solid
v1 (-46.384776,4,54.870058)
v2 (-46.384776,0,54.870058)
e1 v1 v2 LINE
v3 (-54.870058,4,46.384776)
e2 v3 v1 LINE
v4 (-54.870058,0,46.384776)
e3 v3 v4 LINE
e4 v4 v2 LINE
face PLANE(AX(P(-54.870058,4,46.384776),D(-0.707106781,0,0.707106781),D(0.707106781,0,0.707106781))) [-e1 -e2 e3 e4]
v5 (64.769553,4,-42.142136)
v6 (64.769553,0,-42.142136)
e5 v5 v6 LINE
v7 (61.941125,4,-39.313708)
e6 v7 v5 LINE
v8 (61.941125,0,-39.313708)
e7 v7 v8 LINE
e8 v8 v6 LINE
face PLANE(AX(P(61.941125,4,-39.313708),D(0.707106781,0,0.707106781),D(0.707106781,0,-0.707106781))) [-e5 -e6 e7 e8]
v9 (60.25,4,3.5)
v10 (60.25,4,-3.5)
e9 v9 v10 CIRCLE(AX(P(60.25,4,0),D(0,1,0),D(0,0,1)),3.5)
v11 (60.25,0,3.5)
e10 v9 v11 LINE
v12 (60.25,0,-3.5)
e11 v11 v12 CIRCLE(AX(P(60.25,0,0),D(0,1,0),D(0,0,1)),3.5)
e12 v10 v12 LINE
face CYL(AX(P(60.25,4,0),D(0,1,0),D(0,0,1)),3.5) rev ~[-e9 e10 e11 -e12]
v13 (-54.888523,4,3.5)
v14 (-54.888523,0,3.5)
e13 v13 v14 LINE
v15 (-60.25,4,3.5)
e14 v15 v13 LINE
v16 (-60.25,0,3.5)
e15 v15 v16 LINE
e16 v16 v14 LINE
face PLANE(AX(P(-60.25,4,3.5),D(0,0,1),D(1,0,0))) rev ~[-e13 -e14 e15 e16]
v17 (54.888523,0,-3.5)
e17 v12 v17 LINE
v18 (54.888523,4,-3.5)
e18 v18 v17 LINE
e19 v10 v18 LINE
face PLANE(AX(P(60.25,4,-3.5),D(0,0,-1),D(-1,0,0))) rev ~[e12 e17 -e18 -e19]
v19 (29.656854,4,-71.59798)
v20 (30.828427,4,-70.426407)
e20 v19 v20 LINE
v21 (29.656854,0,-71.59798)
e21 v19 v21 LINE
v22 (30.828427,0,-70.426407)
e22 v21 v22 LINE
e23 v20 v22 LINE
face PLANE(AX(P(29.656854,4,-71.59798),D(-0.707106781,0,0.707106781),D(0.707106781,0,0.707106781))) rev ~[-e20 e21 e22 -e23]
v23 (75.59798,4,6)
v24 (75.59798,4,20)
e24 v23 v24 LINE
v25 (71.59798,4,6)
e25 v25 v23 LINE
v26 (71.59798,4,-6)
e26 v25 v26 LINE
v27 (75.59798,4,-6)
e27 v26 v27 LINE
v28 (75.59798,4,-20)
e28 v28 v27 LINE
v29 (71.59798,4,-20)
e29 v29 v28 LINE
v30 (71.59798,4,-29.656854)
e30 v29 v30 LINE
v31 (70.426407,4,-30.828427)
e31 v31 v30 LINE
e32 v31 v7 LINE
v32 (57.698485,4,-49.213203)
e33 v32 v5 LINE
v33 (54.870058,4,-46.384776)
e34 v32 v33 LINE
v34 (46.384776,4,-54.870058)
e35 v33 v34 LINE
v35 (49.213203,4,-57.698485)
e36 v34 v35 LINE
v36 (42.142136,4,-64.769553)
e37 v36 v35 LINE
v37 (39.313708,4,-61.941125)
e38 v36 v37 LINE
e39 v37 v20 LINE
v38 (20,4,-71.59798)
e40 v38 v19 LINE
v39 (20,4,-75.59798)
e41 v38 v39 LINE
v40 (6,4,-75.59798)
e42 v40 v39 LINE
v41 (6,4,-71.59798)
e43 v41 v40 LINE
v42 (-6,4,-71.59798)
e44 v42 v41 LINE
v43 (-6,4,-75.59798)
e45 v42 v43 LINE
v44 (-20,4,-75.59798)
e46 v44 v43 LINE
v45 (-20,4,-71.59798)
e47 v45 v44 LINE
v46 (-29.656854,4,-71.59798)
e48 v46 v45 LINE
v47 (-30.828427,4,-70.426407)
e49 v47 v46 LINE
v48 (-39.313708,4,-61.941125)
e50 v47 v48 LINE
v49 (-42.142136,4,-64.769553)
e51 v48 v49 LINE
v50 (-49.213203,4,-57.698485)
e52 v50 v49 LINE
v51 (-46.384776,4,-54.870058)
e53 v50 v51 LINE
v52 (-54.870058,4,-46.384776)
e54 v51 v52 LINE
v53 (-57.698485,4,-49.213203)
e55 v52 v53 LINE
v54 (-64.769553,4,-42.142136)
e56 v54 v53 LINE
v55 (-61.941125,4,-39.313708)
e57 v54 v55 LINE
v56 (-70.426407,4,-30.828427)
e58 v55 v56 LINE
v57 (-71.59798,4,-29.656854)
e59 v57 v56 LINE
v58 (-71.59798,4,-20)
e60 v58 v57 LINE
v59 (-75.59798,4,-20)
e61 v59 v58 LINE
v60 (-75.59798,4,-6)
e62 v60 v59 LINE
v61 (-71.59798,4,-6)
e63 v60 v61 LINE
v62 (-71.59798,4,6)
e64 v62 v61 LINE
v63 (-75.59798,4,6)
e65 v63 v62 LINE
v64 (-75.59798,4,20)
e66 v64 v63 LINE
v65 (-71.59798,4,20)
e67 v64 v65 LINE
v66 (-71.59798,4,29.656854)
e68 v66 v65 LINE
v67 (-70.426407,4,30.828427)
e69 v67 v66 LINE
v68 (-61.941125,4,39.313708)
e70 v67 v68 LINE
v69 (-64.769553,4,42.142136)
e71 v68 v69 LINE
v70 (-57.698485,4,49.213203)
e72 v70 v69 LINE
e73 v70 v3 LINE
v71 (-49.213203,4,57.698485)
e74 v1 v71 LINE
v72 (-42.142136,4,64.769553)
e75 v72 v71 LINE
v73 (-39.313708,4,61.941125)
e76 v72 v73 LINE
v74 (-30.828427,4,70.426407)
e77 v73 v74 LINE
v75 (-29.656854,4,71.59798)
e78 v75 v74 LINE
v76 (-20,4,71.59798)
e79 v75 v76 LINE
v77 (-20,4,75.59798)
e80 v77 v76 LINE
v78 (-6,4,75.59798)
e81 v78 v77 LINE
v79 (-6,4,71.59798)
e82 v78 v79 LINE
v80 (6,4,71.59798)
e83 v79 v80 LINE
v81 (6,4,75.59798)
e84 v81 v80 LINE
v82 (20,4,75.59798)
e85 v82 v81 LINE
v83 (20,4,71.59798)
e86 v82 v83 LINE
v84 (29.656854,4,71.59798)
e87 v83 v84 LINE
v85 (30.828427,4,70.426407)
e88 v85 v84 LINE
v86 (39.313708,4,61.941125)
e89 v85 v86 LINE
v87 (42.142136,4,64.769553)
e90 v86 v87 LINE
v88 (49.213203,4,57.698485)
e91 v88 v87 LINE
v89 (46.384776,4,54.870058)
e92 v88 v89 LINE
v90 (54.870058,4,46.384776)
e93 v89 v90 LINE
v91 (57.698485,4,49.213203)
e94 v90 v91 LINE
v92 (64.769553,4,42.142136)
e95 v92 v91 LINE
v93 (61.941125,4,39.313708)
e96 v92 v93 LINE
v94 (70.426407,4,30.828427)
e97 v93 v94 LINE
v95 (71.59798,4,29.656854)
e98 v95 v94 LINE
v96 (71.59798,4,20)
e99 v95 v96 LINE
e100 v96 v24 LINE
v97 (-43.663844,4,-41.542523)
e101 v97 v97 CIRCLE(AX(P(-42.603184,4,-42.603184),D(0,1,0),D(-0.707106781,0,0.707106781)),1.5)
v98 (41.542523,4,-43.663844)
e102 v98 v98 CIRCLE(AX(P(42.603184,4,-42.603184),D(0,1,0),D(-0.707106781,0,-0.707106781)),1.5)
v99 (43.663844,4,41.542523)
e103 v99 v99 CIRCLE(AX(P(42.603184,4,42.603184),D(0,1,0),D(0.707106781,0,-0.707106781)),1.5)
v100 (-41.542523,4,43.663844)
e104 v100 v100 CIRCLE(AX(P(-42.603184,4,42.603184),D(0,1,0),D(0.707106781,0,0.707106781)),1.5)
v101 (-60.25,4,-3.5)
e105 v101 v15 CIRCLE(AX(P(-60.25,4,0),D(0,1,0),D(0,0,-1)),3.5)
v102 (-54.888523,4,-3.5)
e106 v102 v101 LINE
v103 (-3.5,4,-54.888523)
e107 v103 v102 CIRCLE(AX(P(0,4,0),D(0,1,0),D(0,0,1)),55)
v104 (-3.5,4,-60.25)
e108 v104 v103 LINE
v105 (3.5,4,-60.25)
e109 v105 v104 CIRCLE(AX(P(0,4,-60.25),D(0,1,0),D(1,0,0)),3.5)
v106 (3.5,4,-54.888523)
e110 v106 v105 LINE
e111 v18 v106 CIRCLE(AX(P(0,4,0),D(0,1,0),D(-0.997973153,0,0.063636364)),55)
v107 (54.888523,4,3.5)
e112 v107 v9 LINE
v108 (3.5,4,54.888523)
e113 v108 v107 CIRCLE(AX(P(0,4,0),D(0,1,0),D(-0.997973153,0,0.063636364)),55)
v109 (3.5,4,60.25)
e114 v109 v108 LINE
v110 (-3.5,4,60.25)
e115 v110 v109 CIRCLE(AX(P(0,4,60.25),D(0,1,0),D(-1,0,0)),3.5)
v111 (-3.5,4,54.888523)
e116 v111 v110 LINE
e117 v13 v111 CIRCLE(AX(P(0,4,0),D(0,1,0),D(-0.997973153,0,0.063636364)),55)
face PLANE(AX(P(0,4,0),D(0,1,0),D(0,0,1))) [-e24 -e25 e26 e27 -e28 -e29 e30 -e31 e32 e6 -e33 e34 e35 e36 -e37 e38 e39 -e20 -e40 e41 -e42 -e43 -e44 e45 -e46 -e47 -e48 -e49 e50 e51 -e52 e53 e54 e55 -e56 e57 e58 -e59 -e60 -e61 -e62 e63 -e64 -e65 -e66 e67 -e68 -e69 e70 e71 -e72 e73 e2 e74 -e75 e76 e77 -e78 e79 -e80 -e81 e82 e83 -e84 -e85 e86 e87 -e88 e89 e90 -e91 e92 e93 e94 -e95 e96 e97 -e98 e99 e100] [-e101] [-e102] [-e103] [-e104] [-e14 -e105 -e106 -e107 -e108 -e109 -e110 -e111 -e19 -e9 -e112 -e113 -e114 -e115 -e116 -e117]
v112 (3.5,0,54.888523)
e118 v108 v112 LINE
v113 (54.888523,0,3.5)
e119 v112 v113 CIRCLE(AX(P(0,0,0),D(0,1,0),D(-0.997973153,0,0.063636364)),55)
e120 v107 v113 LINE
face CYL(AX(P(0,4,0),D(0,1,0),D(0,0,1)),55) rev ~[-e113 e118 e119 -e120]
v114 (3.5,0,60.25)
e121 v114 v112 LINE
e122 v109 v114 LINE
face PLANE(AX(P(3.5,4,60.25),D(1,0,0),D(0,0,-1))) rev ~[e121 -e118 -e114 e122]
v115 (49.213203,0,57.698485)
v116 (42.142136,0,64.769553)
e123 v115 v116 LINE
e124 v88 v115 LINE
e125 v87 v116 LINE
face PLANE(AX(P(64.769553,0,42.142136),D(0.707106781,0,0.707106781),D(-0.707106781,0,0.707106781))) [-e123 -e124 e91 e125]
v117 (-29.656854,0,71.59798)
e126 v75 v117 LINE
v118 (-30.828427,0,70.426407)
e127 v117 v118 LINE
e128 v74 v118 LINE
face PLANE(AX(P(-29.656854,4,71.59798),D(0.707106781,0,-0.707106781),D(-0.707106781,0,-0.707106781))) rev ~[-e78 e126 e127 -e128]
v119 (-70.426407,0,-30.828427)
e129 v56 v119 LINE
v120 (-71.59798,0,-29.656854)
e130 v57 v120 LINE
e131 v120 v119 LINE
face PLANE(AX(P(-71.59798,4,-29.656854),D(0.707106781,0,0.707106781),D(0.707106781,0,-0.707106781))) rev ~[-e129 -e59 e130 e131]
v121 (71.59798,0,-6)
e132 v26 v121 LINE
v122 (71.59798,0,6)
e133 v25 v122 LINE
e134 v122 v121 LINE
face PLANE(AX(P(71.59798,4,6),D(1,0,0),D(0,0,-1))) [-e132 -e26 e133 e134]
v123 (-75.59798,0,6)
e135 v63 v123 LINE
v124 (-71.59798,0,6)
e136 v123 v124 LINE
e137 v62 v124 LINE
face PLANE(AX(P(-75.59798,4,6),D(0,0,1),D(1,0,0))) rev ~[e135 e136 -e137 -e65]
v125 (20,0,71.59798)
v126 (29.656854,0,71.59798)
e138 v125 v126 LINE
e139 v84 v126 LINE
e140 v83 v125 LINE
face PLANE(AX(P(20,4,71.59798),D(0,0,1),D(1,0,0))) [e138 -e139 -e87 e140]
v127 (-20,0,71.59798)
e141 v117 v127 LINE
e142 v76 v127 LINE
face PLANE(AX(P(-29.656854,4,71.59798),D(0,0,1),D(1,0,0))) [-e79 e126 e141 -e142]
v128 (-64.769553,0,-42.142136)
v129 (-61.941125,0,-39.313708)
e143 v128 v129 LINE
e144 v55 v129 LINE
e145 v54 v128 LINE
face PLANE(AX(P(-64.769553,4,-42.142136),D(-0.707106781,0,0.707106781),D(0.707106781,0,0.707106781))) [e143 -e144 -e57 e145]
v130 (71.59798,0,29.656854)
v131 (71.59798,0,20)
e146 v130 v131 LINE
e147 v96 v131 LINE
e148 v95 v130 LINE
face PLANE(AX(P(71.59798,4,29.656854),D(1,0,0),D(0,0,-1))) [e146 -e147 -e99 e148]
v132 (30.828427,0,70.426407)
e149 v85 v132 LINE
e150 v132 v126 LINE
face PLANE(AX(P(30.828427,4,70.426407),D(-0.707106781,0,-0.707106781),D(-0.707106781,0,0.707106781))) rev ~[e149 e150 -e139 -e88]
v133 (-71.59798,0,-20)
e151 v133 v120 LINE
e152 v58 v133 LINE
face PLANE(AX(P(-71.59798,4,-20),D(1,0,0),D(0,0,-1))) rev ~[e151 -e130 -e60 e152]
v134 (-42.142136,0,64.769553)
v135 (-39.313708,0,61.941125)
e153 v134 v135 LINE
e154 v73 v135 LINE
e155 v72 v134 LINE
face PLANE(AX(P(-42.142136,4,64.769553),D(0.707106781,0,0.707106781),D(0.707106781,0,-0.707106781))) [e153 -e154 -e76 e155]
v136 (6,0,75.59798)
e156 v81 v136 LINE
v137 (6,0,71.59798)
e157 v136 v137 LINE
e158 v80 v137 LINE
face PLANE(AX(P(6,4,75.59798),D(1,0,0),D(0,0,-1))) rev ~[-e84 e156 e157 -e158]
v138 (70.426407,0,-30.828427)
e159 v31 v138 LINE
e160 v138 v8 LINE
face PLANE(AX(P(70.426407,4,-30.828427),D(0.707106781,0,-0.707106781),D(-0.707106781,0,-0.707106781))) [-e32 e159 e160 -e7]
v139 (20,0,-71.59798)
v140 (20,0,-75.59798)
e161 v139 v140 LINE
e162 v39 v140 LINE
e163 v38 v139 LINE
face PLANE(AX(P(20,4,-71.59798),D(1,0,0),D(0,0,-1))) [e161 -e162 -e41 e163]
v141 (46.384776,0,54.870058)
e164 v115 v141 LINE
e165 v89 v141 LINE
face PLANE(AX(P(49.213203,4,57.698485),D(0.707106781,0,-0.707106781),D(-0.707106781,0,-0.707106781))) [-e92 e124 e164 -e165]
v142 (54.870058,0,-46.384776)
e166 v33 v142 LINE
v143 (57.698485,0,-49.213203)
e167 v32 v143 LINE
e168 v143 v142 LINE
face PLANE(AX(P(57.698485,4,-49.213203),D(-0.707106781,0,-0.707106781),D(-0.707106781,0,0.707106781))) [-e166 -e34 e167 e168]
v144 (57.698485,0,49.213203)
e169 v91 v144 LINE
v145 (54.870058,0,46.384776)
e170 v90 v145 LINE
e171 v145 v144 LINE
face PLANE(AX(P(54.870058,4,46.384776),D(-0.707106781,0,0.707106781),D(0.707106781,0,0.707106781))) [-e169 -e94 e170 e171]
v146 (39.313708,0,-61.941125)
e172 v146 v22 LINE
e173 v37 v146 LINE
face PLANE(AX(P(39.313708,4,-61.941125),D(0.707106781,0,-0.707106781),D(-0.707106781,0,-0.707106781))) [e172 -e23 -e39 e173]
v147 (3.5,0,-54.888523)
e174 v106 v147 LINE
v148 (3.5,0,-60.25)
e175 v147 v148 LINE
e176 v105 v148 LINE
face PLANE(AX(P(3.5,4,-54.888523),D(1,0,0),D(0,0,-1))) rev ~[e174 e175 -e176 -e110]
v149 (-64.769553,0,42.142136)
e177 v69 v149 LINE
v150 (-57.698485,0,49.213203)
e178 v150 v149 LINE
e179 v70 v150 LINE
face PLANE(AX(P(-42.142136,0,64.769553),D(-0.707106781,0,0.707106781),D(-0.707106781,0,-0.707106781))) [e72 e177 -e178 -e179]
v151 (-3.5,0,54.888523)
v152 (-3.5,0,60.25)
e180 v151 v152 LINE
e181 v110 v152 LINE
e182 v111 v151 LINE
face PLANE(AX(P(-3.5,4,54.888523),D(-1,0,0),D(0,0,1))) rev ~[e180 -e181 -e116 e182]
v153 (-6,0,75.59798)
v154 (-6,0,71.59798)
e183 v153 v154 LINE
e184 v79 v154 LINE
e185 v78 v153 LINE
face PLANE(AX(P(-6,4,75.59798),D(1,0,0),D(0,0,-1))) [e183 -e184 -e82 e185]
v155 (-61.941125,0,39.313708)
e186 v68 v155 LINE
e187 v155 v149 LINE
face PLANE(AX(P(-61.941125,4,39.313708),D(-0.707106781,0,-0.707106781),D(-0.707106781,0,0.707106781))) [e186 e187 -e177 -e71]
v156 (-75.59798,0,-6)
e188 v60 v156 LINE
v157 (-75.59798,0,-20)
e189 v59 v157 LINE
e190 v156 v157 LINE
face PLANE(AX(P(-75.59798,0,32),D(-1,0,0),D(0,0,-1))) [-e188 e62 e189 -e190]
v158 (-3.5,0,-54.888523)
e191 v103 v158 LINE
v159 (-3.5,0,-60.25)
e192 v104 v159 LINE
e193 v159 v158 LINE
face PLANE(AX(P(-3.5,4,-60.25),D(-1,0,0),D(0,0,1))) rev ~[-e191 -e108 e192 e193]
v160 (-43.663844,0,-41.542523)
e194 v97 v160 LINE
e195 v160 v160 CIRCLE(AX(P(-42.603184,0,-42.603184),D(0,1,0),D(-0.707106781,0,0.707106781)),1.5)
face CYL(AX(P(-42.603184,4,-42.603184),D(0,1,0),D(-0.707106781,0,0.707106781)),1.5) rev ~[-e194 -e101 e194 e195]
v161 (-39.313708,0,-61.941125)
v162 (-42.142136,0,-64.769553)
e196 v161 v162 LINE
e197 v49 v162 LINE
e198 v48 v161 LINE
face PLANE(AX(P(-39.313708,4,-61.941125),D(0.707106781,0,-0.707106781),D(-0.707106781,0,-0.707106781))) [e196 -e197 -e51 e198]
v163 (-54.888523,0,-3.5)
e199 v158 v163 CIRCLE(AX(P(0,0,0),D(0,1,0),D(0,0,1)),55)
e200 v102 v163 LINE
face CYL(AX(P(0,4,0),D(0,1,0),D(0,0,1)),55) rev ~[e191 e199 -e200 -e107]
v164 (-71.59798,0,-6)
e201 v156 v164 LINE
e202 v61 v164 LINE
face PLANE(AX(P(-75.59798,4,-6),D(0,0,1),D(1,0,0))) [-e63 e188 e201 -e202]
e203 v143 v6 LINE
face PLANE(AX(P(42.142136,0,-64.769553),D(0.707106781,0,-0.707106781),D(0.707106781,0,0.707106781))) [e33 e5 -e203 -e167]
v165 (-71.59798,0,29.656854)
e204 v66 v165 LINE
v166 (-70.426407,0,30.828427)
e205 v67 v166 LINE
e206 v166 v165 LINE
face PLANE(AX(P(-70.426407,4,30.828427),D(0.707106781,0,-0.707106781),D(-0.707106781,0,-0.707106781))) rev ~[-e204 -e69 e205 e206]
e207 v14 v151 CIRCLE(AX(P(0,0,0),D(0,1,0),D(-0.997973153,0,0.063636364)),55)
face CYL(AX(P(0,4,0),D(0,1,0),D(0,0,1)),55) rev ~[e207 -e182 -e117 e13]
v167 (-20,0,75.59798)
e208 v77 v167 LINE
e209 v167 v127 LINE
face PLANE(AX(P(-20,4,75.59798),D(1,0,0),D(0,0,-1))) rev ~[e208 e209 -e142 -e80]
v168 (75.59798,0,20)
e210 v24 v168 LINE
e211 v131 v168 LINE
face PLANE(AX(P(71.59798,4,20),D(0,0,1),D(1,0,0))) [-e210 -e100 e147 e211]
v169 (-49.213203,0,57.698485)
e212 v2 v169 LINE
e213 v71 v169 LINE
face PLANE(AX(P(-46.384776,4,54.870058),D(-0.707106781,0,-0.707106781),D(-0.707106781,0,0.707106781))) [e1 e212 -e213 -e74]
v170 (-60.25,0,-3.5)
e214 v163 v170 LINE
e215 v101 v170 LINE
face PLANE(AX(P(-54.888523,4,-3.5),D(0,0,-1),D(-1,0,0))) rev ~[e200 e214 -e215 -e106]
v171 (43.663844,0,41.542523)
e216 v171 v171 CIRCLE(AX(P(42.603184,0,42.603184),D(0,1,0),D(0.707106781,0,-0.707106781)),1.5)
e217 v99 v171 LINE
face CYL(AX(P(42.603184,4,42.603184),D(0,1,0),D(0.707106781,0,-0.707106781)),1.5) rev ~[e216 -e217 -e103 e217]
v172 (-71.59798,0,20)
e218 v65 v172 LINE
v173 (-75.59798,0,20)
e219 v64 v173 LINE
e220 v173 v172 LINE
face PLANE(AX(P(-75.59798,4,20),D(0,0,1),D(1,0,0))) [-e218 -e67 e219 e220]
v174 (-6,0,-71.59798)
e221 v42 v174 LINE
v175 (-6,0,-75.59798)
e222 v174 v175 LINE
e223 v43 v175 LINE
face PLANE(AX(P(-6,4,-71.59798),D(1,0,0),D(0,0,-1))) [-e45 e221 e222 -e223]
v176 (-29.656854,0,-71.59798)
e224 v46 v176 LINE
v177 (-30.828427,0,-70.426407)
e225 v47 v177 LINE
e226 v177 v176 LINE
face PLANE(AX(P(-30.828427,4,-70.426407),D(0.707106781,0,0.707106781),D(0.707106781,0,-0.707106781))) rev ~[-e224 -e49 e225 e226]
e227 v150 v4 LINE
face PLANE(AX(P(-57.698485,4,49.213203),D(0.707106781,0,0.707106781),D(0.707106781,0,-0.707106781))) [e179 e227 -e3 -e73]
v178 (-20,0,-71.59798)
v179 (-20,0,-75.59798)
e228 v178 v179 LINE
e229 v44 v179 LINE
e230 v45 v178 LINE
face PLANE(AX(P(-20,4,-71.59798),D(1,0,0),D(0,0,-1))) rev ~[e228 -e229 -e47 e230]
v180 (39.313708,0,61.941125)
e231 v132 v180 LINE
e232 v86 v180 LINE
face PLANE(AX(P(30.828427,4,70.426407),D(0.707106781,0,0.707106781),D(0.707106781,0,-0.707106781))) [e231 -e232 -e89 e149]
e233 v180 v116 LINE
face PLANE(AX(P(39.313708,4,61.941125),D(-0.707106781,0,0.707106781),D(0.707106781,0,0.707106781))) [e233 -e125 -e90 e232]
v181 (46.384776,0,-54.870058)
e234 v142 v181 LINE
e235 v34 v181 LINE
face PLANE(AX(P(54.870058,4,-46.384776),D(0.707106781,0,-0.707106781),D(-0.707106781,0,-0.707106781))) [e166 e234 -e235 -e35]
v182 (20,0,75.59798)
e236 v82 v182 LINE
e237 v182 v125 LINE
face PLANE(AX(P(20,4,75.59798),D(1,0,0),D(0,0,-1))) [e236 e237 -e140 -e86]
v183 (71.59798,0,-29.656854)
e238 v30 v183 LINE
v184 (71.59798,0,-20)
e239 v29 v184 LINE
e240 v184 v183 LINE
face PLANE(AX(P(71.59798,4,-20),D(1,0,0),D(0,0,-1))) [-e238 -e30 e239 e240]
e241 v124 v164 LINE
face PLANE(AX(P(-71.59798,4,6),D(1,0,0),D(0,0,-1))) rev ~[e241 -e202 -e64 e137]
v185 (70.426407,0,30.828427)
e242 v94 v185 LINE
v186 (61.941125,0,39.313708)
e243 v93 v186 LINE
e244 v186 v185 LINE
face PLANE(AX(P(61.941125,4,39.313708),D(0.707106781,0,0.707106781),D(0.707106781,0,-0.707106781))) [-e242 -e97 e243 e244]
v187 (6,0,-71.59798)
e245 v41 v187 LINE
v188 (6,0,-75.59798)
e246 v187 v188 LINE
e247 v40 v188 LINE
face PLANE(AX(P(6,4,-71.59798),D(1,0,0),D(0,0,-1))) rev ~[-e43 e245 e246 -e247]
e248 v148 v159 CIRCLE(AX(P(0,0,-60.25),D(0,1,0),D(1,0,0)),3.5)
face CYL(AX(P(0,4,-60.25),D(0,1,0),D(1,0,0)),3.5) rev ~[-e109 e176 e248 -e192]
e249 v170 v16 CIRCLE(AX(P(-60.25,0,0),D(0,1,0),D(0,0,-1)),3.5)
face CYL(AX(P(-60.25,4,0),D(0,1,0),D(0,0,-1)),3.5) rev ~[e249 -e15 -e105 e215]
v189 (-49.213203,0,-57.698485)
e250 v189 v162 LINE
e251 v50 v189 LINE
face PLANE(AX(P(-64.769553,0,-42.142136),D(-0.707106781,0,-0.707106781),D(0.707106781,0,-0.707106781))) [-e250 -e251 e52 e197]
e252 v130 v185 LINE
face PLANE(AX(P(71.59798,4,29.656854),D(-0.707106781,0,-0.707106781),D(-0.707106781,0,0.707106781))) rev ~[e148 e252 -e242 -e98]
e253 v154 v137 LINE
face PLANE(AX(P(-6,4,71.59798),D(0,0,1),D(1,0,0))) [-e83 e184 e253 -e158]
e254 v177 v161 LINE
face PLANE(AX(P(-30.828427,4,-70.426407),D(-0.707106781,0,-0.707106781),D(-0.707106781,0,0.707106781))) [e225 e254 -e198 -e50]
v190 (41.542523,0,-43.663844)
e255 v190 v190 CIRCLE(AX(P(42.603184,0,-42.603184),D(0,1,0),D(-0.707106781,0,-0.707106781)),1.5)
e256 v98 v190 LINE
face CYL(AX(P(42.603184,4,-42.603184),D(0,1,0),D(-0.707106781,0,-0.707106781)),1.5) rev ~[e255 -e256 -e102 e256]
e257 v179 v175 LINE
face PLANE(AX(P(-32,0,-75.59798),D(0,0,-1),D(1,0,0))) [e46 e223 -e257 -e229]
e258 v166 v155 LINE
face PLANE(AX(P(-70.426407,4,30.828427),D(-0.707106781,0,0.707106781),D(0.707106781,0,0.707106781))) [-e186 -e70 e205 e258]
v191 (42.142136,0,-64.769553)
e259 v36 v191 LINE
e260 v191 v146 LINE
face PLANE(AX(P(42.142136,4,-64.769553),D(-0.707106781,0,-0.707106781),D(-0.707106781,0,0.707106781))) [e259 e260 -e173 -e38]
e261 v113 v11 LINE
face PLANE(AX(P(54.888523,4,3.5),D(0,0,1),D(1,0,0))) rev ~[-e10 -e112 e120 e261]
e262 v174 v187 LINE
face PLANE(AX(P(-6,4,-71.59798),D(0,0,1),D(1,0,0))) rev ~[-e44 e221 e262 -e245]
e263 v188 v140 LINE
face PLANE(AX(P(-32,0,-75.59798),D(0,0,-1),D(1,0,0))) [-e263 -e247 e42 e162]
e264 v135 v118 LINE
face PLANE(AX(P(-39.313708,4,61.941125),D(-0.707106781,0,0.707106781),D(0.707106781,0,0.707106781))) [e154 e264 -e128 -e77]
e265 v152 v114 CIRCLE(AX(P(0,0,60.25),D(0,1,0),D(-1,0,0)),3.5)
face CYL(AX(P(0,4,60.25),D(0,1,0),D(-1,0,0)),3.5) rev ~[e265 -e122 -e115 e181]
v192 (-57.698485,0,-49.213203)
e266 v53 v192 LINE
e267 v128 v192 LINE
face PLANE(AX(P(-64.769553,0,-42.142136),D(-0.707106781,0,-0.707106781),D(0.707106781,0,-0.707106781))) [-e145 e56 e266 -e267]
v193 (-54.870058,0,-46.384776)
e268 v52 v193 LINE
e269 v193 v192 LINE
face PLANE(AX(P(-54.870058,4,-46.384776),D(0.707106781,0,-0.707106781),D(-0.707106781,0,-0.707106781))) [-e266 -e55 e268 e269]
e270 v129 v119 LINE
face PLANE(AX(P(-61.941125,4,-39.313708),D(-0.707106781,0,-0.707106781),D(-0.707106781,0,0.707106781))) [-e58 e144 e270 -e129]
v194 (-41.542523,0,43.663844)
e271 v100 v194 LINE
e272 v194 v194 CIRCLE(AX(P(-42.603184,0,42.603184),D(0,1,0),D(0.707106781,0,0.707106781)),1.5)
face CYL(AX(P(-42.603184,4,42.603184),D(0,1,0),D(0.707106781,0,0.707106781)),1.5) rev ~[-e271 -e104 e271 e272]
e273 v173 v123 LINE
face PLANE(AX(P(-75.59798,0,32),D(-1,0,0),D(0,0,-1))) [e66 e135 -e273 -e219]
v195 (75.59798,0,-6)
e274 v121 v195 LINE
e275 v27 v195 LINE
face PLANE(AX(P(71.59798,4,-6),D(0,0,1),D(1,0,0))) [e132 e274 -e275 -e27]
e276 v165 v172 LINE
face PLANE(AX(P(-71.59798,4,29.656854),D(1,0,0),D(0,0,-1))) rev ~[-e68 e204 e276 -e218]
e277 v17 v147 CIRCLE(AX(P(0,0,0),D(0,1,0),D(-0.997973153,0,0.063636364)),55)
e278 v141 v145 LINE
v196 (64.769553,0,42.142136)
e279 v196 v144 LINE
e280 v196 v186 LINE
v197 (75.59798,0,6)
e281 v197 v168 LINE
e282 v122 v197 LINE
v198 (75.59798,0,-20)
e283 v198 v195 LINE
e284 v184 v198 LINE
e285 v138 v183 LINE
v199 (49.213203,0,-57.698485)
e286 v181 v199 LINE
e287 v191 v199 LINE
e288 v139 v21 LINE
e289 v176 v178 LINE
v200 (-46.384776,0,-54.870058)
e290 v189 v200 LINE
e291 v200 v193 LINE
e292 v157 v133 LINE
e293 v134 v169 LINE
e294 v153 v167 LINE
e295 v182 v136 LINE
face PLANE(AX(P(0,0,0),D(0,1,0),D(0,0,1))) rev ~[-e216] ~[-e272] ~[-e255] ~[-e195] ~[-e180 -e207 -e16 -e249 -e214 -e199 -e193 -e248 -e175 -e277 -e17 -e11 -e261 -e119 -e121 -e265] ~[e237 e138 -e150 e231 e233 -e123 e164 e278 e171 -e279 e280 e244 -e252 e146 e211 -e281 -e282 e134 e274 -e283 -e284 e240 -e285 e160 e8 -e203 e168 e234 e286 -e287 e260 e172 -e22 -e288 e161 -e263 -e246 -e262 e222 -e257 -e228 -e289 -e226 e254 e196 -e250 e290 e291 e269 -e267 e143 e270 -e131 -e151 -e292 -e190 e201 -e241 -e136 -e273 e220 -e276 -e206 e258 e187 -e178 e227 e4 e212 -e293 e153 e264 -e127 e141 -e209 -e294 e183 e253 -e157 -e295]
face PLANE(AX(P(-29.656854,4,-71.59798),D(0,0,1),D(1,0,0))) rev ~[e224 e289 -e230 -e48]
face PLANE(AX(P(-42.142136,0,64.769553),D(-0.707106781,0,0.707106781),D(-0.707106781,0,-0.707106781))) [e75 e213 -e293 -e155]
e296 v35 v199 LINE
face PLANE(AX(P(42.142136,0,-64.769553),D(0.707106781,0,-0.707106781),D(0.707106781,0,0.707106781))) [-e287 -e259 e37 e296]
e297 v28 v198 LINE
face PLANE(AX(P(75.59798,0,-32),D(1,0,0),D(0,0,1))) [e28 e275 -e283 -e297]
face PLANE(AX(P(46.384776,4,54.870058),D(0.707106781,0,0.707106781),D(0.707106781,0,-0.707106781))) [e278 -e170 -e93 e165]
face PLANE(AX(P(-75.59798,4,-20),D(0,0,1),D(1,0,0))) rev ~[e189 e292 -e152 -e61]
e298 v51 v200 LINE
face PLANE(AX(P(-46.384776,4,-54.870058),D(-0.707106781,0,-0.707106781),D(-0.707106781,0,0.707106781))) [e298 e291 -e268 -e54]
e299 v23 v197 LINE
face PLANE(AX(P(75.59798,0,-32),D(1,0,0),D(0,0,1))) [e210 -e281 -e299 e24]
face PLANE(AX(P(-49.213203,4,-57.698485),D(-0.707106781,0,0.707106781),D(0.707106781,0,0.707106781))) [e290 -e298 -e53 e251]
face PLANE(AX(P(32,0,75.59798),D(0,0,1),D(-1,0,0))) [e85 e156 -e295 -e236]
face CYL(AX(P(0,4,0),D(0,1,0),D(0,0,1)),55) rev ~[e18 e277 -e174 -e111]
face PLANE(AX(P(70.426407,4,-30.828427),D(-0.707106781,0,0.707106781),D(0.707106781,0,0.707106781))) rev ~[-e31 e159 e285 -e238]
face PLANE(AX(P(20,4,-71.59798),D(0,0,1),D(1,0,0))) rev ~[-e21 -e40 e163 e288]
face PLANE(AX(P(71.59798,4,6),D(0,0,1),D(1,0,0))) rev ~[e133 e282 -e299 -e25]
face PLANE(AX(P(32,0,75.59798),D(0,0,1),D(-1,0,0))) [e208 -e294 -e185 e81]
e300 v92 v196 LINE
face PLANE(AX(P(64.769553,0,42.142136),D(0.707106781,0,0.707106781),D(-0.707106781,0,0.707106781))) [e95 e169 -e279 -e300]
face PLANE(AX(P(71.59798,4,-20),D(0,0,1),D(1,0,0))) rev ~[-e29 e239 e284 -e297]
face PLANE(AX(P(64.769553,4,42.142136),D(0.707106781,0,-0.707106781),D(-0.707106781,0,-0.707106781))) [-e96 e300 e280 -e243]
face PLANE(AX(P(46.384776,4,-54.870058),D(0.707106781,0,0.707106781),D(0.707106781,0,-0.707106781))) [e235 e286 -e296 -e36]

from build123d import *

# Parameters (mm, degrees)
SKETCH1_R           = 100
BOSS_EXTRUDE1_DEPTH = 4
SKETCH2_W           = 4
SKETCH2_H           = 12
SKETCH2_W_2         = 12
SKETCH2_H_2         = 4
CUT_EXTRUDE1_DEPTH  = 4
CUT_EXTRUDE3_START  = -4
SKETCH3_R           = 100
CUT_EXTRUDE3_DEPTH  = 4
SKETCH5_R           = 55
CUT_EXTRUDE4_DEPTH  = 107.986490191
SKETCH6_R           = 1.5
CUT_EXTRUDE5_DEPTH  = 107.986490191
CIRPATTERN1_COUNT   = 8
SKETCH7_R           = 3.5
CUT_EXTRUDE6_DEPTH  = 10
CIRPATTERN2_COUNT   = 4


with BuildPart() as part:
    # Sketch1 → Boss-Extrude1 (new body)
    with BuildSketch(Plane(origin=(0, 0, 0), x_dir=(1, 0, 0), z_dir=(0, 1, 0))):
        with Locations(Location((0, 0, 0), (0, 0, 270))):
            Circle(SKETCH1_R)
    extrude(amount=BOSS_EXTRUDE1_DEPTH)

    # Sketch2 → Cut-Extrude1 (cut)
    with BuildSketch(Plane(origin=(0, 4, 0), x_dir=(1, 0, 0), z_dir=(0, 1, 0))):
        with Locations((-73.597979746, -26)):
            Rectangle(SKETCH2_W, SKETCH2_H)
        with Locations((-73.597979746, 0)):
            Rectangle(SKETCH2_W, SKETCH2_H)
        with Locations((-73.597979746, 26)):
            Rectangle(SKETCH2_W, SKETCH2_H)
        Polygon((-70.426406871, 30.828427125), (-73.254833996, 33.656854249), (-64.769552622, 42.142135624), (-61.941125497, 39.313708499), align=None)
        Polygon((-54.870057685, 46.384776311), (-57.69848481, 49.213203436), (-49.213203436, 57.69848481), (-46.384776311, 54.870057685), align=None)
        Polygon((-39.313708499, 61.941125497), (-42.142135624, 64.769552622), (-33.656854249, 73.254833996), (-30.828427125, 70.426406871), align=None)
        with Locations((-26, 73.597979746)):
            Rectangle(SKETCH2_W_2, SKETCH2_H_2)
        with Locations((0, 73.597979746)):
            Rectangle(SKETCH2_W_2, SKETCH2_H_2)
        with Locations((26, 73.597979746)):
            Rectangle(SKETCH2_W_2, SKETCH2_H_2)
        Polygon((42.142135624, 64.769552622), (39.313708499, 61.941125497), (30.828427125, 70.426406871), (33.656854249, 73.254833996), align=None)
        Polygon((57.69848481, 49.213203436), (54.870057685, 46.384776311), (46.384776311, 54.870057685), (49.213203436, 57.69848481), align=None)
        Polygon((73.254833996, 33.656854249), (70.426406871, 30.828427125), (61.941125497, 39.313708499), (64.769552622, 42.142135624), align=None)
        with Locations((73.597979746, 0)):
            Rectangle(SKETCH2_W, SKETCH2_H)
        with Locations((73.597979746, 26)):
            Rectangle(SKETCH2_W, SKETCH2_H)
        with Locations((73.597979746, -26)):
            Rectangle(SKETCH2_W, SKETCH2_H)
        Polygon((64.769552622, -42.142135624), (61.941125497, -39.313708499), (70.426406871, -30.828427125), (73.254833996, -33.656854249), align=None)
        Polygon((71.597979746, -32), (71.597979746, -29.656854249), (70.426406871, -30.828427125), align=None)
        Polygon((49.213203436, -57.69848481), (46.384776311, -54.870057685), (54.870057685, -46.384776311), (57.69848481, -49.213203436), align=None)
        Polygon((33.656854249, -73.254833996), (30.828427125, -70.426406871), (39.313708499, -61.941125497), (42.142135624, -64.769552622), align=None)
        Polygon((32, -71.597979746), (30.828427125, -70.426406871), (29.656854249, -71.597979746), align=None)
        with Locations((26, -73.597979746)):
            Rectangle(SKETCH2_W_2, SKETCH2_H_2)
        with Locations((0, -73.597979746)):
            Rectangle(SKETCH2_W_2, SKETCH2_H_2)
        with Locations((-26, -73.597979746)):
            Rectangle(SKETCH2_W_2, SKETCH2_H_2)
        Polygon((-29.656854249, -71.597979746), (-30.828427125, -70.426406871), (-32, -71.597979746), align=None)
        Polygon((-30.828427125, -70.426406871), (-33.656854249, -73.254833996), (-42.142135624, -64.769552622), (-39.313708499, -61.941125497), align=None)
        Polygon((-46.384776311, -54.870057685), (-49.213203436, -57.69848481), (-57.69848481, -49.213203436), (-54.870057685, -46.384776311), align=None)
        Polygon((-61.941125497, -39.313708499), (-64.769552622, -42.142135624), (-73.254833996, -33.656854249), (-70.426406871, -30.828427125), align=None)
        Polygon((-70.426406871, -30.828427125), (-71.597979746, -29.656854249), (-71.597979746, -32), align=None)
        Polygon((-71.597979746, 29.656854249), (-70.426406871, 30.828427125), (-71.597979746, 32), align=None)
        Polygon((-29.656854249, 71.597979746), (-32, 71.597979746), (-30.828427125, 70.426406871), align=None)
        Polygon((32, 71.597979746), (29.656854249, 71.597979746), (30.828427125, 70.426406871), align=None)
        Polygon((71.597979746, 32), (70.426406871, 30.828427125), (71.597979746, 29.656854249), align=None)
    extrude(amount=-CUT_EXTRUDE1_DEPTH, mode=Mode.SUBTRACT)

    # Sketch3 → Cut-Extrude3 (cut)
    # profile 1 of 5: a face of its own
    with BuildSketch(Plane(origin=(0, 4, 0), x_dir=(1, 0, 0), z_dir=(0, 1, 0)).offset(CUT_EXTRUDE3_START)):
        Circle(SKETCH3_R)
        Polygon((75.597979746, -32), (32, -75.597979746), (-32, -75.597979746), (-75.597979746, -32), (-75.597979746, 32), (-32, 75.597979746), (32, 75.597979746), (75.597979746, 32), align=None, mode=Mode.SUBTRACT)
    # profile 2 of 5: a face of its own
    with BuildSketch(Plane(origin=(0, 4, 0), x_dir=(1, 0, 0), z_dir=(0, 1, 0)).offset(CUT_EXTRUDE3_START)):
        Polygon((-75.597979746, 32), (-75.597979746, 30.611659087), (-70.199499966, 31.905014714), (-64.769552622, 42.142135624), (-42.142135624, 64.769552622), (-31.064182622, 71.665632478), (-28.788746713, 75.597979746), (-32, 75.597979746), align=None)
    # profile 3 of 5: a face of its own
    with BuildSketch(Plane(origin=(0, 4, 0), x_dir=(1, 0, 0), z_dir=(0, 1, 0)).offset(CUT_EXTRUDE3_START)):
        Polygon((-75.597979746, -32), (-32, -75.597979746), (-29.093903597, -75.597979746), (-30.351010999, -72.169062048), (-42.142135624, -64.769552622), (-64.769552622, -42.142135624), (-71.252442115, -31.167934151), (-75.597979746, -30.54862762), align=None)
    # profile 4 of 5: a face of its own
    with BuildSketch(Plane(origin=(0, 4, 0), x_dir=(1, 0, 0), z_dir=(0, 1, 0)).offset(CUT_EXTRUDE3_START)):
        Polygon((32, -70.176952979), (27.328089277, -75.597979746), (32, -75.597979746), (75.597979746, -32), (75.597979746, -29.546495423), (70.83875298, -31.3565945), (64.769552622, -42.142135624), (42.142135624, -64.769552622), align=None)
    # profile 5 of 5: a face of its own
    with BuildSketch(Plane(origin=(0, 4, 0), x_dir=(1, 0, 0), z_dir=(0, 1, 0)).offset(CUT_EXTRUDE3_START)):
        Polygon((70.83875298, 31.531789385), (75.597979746, 29.562368083), (75.597979746, 32), (32, 75.597979746), (29.807879635, 75.597979746), (31.156089891, 71.258119345), (42.142135624, 64.769552622), (64.769552622, 42.142135624), align=None)
    extrude(amount=CUT_EXTRUDE3_DEPTH, mode=Mode.SUBTRACT)

    # Sketch5 → Cut-Extrude4 (cut, through all)
    with BuildSketch(Plane(origin=(0, 4, 0), x_dir=(1, 0, 0), z_dir=(0, 1, 0))):
        with Locations(Location((0, 0, 0), (0, 0, 270))):
            Circle(SKETCH5_R)
    extrude(amount=-CUT_EXTRUDE4_DEPTH, mode=Mode.SUBTRACT)

    # Sketch6 → Cut-Extrude5 (cut, through all)
    with BuildSketch(Plane(origin=(0, 4, 0), x_dir=(1, 0, 0), z_dir=(0, 1, 0))):
        with Locations(Location((-60.25, 0, 0), (0, 0, 270))):
            Circle(SKETCH6_R)
    cut_extrude5 = extrude(amount=-CUT_EXTRUDE5_DEPTH, mode=Mode.SUBTRACT)

    # CirPattern1: Cut-Extrude5 ×8 about axis
    cirpattern1_axis = Axis((0, 0, 0), (0, 1, 0))
    for i in range(1, CIRPATTERN1_COUNT):
        add(cut_extrude5.rotate(cirpattern1_axis, i * 360 / CIRPATTERN1_COUNT), mode=Mode.SUBTRACT)

    # Sketch7 → Cut-Extrude6 (cut)
    with BuildSketch(Plane(origin=(0, 4, 0), x_dir=(1, 0, 0), z_dir=(0, 1, 0))):
        with BuildLine():
            ThreePointArc((3.5, 60.25), (0, 56.75), (-3.5, 60.25))
            Line((-3.5, 60.25), (-3.5, 54.888523391))
            ThreePointArc((-3.5, 54.888523391), (0, 55), (3.5, 54.888523391))
            Line((3.5, 54.888523391), (3.5, 60.25))
        make_face()
        with Locations((0, 60.25)):
            Circle(SKETCH7_R)
    cut_extrude6 = extrude(amount=-CUT_EXTRUDE6_DEPTH, mode=Mode.SUBTRACT)

    # CirPattern2: Cut-Extrude6 ×4 about axis
    cirpattern2_axis = Axis((0, 0, 0), (0, 1, 0))
    for i in range(1, CIRPATTERN2_COUNT):
        add(cut_extrude6.rotate(cirpattern2_axis, i * 360 / CIRPATTERN2_COUNT), mode=Mode.SUBTRACT)


solid = part.part
